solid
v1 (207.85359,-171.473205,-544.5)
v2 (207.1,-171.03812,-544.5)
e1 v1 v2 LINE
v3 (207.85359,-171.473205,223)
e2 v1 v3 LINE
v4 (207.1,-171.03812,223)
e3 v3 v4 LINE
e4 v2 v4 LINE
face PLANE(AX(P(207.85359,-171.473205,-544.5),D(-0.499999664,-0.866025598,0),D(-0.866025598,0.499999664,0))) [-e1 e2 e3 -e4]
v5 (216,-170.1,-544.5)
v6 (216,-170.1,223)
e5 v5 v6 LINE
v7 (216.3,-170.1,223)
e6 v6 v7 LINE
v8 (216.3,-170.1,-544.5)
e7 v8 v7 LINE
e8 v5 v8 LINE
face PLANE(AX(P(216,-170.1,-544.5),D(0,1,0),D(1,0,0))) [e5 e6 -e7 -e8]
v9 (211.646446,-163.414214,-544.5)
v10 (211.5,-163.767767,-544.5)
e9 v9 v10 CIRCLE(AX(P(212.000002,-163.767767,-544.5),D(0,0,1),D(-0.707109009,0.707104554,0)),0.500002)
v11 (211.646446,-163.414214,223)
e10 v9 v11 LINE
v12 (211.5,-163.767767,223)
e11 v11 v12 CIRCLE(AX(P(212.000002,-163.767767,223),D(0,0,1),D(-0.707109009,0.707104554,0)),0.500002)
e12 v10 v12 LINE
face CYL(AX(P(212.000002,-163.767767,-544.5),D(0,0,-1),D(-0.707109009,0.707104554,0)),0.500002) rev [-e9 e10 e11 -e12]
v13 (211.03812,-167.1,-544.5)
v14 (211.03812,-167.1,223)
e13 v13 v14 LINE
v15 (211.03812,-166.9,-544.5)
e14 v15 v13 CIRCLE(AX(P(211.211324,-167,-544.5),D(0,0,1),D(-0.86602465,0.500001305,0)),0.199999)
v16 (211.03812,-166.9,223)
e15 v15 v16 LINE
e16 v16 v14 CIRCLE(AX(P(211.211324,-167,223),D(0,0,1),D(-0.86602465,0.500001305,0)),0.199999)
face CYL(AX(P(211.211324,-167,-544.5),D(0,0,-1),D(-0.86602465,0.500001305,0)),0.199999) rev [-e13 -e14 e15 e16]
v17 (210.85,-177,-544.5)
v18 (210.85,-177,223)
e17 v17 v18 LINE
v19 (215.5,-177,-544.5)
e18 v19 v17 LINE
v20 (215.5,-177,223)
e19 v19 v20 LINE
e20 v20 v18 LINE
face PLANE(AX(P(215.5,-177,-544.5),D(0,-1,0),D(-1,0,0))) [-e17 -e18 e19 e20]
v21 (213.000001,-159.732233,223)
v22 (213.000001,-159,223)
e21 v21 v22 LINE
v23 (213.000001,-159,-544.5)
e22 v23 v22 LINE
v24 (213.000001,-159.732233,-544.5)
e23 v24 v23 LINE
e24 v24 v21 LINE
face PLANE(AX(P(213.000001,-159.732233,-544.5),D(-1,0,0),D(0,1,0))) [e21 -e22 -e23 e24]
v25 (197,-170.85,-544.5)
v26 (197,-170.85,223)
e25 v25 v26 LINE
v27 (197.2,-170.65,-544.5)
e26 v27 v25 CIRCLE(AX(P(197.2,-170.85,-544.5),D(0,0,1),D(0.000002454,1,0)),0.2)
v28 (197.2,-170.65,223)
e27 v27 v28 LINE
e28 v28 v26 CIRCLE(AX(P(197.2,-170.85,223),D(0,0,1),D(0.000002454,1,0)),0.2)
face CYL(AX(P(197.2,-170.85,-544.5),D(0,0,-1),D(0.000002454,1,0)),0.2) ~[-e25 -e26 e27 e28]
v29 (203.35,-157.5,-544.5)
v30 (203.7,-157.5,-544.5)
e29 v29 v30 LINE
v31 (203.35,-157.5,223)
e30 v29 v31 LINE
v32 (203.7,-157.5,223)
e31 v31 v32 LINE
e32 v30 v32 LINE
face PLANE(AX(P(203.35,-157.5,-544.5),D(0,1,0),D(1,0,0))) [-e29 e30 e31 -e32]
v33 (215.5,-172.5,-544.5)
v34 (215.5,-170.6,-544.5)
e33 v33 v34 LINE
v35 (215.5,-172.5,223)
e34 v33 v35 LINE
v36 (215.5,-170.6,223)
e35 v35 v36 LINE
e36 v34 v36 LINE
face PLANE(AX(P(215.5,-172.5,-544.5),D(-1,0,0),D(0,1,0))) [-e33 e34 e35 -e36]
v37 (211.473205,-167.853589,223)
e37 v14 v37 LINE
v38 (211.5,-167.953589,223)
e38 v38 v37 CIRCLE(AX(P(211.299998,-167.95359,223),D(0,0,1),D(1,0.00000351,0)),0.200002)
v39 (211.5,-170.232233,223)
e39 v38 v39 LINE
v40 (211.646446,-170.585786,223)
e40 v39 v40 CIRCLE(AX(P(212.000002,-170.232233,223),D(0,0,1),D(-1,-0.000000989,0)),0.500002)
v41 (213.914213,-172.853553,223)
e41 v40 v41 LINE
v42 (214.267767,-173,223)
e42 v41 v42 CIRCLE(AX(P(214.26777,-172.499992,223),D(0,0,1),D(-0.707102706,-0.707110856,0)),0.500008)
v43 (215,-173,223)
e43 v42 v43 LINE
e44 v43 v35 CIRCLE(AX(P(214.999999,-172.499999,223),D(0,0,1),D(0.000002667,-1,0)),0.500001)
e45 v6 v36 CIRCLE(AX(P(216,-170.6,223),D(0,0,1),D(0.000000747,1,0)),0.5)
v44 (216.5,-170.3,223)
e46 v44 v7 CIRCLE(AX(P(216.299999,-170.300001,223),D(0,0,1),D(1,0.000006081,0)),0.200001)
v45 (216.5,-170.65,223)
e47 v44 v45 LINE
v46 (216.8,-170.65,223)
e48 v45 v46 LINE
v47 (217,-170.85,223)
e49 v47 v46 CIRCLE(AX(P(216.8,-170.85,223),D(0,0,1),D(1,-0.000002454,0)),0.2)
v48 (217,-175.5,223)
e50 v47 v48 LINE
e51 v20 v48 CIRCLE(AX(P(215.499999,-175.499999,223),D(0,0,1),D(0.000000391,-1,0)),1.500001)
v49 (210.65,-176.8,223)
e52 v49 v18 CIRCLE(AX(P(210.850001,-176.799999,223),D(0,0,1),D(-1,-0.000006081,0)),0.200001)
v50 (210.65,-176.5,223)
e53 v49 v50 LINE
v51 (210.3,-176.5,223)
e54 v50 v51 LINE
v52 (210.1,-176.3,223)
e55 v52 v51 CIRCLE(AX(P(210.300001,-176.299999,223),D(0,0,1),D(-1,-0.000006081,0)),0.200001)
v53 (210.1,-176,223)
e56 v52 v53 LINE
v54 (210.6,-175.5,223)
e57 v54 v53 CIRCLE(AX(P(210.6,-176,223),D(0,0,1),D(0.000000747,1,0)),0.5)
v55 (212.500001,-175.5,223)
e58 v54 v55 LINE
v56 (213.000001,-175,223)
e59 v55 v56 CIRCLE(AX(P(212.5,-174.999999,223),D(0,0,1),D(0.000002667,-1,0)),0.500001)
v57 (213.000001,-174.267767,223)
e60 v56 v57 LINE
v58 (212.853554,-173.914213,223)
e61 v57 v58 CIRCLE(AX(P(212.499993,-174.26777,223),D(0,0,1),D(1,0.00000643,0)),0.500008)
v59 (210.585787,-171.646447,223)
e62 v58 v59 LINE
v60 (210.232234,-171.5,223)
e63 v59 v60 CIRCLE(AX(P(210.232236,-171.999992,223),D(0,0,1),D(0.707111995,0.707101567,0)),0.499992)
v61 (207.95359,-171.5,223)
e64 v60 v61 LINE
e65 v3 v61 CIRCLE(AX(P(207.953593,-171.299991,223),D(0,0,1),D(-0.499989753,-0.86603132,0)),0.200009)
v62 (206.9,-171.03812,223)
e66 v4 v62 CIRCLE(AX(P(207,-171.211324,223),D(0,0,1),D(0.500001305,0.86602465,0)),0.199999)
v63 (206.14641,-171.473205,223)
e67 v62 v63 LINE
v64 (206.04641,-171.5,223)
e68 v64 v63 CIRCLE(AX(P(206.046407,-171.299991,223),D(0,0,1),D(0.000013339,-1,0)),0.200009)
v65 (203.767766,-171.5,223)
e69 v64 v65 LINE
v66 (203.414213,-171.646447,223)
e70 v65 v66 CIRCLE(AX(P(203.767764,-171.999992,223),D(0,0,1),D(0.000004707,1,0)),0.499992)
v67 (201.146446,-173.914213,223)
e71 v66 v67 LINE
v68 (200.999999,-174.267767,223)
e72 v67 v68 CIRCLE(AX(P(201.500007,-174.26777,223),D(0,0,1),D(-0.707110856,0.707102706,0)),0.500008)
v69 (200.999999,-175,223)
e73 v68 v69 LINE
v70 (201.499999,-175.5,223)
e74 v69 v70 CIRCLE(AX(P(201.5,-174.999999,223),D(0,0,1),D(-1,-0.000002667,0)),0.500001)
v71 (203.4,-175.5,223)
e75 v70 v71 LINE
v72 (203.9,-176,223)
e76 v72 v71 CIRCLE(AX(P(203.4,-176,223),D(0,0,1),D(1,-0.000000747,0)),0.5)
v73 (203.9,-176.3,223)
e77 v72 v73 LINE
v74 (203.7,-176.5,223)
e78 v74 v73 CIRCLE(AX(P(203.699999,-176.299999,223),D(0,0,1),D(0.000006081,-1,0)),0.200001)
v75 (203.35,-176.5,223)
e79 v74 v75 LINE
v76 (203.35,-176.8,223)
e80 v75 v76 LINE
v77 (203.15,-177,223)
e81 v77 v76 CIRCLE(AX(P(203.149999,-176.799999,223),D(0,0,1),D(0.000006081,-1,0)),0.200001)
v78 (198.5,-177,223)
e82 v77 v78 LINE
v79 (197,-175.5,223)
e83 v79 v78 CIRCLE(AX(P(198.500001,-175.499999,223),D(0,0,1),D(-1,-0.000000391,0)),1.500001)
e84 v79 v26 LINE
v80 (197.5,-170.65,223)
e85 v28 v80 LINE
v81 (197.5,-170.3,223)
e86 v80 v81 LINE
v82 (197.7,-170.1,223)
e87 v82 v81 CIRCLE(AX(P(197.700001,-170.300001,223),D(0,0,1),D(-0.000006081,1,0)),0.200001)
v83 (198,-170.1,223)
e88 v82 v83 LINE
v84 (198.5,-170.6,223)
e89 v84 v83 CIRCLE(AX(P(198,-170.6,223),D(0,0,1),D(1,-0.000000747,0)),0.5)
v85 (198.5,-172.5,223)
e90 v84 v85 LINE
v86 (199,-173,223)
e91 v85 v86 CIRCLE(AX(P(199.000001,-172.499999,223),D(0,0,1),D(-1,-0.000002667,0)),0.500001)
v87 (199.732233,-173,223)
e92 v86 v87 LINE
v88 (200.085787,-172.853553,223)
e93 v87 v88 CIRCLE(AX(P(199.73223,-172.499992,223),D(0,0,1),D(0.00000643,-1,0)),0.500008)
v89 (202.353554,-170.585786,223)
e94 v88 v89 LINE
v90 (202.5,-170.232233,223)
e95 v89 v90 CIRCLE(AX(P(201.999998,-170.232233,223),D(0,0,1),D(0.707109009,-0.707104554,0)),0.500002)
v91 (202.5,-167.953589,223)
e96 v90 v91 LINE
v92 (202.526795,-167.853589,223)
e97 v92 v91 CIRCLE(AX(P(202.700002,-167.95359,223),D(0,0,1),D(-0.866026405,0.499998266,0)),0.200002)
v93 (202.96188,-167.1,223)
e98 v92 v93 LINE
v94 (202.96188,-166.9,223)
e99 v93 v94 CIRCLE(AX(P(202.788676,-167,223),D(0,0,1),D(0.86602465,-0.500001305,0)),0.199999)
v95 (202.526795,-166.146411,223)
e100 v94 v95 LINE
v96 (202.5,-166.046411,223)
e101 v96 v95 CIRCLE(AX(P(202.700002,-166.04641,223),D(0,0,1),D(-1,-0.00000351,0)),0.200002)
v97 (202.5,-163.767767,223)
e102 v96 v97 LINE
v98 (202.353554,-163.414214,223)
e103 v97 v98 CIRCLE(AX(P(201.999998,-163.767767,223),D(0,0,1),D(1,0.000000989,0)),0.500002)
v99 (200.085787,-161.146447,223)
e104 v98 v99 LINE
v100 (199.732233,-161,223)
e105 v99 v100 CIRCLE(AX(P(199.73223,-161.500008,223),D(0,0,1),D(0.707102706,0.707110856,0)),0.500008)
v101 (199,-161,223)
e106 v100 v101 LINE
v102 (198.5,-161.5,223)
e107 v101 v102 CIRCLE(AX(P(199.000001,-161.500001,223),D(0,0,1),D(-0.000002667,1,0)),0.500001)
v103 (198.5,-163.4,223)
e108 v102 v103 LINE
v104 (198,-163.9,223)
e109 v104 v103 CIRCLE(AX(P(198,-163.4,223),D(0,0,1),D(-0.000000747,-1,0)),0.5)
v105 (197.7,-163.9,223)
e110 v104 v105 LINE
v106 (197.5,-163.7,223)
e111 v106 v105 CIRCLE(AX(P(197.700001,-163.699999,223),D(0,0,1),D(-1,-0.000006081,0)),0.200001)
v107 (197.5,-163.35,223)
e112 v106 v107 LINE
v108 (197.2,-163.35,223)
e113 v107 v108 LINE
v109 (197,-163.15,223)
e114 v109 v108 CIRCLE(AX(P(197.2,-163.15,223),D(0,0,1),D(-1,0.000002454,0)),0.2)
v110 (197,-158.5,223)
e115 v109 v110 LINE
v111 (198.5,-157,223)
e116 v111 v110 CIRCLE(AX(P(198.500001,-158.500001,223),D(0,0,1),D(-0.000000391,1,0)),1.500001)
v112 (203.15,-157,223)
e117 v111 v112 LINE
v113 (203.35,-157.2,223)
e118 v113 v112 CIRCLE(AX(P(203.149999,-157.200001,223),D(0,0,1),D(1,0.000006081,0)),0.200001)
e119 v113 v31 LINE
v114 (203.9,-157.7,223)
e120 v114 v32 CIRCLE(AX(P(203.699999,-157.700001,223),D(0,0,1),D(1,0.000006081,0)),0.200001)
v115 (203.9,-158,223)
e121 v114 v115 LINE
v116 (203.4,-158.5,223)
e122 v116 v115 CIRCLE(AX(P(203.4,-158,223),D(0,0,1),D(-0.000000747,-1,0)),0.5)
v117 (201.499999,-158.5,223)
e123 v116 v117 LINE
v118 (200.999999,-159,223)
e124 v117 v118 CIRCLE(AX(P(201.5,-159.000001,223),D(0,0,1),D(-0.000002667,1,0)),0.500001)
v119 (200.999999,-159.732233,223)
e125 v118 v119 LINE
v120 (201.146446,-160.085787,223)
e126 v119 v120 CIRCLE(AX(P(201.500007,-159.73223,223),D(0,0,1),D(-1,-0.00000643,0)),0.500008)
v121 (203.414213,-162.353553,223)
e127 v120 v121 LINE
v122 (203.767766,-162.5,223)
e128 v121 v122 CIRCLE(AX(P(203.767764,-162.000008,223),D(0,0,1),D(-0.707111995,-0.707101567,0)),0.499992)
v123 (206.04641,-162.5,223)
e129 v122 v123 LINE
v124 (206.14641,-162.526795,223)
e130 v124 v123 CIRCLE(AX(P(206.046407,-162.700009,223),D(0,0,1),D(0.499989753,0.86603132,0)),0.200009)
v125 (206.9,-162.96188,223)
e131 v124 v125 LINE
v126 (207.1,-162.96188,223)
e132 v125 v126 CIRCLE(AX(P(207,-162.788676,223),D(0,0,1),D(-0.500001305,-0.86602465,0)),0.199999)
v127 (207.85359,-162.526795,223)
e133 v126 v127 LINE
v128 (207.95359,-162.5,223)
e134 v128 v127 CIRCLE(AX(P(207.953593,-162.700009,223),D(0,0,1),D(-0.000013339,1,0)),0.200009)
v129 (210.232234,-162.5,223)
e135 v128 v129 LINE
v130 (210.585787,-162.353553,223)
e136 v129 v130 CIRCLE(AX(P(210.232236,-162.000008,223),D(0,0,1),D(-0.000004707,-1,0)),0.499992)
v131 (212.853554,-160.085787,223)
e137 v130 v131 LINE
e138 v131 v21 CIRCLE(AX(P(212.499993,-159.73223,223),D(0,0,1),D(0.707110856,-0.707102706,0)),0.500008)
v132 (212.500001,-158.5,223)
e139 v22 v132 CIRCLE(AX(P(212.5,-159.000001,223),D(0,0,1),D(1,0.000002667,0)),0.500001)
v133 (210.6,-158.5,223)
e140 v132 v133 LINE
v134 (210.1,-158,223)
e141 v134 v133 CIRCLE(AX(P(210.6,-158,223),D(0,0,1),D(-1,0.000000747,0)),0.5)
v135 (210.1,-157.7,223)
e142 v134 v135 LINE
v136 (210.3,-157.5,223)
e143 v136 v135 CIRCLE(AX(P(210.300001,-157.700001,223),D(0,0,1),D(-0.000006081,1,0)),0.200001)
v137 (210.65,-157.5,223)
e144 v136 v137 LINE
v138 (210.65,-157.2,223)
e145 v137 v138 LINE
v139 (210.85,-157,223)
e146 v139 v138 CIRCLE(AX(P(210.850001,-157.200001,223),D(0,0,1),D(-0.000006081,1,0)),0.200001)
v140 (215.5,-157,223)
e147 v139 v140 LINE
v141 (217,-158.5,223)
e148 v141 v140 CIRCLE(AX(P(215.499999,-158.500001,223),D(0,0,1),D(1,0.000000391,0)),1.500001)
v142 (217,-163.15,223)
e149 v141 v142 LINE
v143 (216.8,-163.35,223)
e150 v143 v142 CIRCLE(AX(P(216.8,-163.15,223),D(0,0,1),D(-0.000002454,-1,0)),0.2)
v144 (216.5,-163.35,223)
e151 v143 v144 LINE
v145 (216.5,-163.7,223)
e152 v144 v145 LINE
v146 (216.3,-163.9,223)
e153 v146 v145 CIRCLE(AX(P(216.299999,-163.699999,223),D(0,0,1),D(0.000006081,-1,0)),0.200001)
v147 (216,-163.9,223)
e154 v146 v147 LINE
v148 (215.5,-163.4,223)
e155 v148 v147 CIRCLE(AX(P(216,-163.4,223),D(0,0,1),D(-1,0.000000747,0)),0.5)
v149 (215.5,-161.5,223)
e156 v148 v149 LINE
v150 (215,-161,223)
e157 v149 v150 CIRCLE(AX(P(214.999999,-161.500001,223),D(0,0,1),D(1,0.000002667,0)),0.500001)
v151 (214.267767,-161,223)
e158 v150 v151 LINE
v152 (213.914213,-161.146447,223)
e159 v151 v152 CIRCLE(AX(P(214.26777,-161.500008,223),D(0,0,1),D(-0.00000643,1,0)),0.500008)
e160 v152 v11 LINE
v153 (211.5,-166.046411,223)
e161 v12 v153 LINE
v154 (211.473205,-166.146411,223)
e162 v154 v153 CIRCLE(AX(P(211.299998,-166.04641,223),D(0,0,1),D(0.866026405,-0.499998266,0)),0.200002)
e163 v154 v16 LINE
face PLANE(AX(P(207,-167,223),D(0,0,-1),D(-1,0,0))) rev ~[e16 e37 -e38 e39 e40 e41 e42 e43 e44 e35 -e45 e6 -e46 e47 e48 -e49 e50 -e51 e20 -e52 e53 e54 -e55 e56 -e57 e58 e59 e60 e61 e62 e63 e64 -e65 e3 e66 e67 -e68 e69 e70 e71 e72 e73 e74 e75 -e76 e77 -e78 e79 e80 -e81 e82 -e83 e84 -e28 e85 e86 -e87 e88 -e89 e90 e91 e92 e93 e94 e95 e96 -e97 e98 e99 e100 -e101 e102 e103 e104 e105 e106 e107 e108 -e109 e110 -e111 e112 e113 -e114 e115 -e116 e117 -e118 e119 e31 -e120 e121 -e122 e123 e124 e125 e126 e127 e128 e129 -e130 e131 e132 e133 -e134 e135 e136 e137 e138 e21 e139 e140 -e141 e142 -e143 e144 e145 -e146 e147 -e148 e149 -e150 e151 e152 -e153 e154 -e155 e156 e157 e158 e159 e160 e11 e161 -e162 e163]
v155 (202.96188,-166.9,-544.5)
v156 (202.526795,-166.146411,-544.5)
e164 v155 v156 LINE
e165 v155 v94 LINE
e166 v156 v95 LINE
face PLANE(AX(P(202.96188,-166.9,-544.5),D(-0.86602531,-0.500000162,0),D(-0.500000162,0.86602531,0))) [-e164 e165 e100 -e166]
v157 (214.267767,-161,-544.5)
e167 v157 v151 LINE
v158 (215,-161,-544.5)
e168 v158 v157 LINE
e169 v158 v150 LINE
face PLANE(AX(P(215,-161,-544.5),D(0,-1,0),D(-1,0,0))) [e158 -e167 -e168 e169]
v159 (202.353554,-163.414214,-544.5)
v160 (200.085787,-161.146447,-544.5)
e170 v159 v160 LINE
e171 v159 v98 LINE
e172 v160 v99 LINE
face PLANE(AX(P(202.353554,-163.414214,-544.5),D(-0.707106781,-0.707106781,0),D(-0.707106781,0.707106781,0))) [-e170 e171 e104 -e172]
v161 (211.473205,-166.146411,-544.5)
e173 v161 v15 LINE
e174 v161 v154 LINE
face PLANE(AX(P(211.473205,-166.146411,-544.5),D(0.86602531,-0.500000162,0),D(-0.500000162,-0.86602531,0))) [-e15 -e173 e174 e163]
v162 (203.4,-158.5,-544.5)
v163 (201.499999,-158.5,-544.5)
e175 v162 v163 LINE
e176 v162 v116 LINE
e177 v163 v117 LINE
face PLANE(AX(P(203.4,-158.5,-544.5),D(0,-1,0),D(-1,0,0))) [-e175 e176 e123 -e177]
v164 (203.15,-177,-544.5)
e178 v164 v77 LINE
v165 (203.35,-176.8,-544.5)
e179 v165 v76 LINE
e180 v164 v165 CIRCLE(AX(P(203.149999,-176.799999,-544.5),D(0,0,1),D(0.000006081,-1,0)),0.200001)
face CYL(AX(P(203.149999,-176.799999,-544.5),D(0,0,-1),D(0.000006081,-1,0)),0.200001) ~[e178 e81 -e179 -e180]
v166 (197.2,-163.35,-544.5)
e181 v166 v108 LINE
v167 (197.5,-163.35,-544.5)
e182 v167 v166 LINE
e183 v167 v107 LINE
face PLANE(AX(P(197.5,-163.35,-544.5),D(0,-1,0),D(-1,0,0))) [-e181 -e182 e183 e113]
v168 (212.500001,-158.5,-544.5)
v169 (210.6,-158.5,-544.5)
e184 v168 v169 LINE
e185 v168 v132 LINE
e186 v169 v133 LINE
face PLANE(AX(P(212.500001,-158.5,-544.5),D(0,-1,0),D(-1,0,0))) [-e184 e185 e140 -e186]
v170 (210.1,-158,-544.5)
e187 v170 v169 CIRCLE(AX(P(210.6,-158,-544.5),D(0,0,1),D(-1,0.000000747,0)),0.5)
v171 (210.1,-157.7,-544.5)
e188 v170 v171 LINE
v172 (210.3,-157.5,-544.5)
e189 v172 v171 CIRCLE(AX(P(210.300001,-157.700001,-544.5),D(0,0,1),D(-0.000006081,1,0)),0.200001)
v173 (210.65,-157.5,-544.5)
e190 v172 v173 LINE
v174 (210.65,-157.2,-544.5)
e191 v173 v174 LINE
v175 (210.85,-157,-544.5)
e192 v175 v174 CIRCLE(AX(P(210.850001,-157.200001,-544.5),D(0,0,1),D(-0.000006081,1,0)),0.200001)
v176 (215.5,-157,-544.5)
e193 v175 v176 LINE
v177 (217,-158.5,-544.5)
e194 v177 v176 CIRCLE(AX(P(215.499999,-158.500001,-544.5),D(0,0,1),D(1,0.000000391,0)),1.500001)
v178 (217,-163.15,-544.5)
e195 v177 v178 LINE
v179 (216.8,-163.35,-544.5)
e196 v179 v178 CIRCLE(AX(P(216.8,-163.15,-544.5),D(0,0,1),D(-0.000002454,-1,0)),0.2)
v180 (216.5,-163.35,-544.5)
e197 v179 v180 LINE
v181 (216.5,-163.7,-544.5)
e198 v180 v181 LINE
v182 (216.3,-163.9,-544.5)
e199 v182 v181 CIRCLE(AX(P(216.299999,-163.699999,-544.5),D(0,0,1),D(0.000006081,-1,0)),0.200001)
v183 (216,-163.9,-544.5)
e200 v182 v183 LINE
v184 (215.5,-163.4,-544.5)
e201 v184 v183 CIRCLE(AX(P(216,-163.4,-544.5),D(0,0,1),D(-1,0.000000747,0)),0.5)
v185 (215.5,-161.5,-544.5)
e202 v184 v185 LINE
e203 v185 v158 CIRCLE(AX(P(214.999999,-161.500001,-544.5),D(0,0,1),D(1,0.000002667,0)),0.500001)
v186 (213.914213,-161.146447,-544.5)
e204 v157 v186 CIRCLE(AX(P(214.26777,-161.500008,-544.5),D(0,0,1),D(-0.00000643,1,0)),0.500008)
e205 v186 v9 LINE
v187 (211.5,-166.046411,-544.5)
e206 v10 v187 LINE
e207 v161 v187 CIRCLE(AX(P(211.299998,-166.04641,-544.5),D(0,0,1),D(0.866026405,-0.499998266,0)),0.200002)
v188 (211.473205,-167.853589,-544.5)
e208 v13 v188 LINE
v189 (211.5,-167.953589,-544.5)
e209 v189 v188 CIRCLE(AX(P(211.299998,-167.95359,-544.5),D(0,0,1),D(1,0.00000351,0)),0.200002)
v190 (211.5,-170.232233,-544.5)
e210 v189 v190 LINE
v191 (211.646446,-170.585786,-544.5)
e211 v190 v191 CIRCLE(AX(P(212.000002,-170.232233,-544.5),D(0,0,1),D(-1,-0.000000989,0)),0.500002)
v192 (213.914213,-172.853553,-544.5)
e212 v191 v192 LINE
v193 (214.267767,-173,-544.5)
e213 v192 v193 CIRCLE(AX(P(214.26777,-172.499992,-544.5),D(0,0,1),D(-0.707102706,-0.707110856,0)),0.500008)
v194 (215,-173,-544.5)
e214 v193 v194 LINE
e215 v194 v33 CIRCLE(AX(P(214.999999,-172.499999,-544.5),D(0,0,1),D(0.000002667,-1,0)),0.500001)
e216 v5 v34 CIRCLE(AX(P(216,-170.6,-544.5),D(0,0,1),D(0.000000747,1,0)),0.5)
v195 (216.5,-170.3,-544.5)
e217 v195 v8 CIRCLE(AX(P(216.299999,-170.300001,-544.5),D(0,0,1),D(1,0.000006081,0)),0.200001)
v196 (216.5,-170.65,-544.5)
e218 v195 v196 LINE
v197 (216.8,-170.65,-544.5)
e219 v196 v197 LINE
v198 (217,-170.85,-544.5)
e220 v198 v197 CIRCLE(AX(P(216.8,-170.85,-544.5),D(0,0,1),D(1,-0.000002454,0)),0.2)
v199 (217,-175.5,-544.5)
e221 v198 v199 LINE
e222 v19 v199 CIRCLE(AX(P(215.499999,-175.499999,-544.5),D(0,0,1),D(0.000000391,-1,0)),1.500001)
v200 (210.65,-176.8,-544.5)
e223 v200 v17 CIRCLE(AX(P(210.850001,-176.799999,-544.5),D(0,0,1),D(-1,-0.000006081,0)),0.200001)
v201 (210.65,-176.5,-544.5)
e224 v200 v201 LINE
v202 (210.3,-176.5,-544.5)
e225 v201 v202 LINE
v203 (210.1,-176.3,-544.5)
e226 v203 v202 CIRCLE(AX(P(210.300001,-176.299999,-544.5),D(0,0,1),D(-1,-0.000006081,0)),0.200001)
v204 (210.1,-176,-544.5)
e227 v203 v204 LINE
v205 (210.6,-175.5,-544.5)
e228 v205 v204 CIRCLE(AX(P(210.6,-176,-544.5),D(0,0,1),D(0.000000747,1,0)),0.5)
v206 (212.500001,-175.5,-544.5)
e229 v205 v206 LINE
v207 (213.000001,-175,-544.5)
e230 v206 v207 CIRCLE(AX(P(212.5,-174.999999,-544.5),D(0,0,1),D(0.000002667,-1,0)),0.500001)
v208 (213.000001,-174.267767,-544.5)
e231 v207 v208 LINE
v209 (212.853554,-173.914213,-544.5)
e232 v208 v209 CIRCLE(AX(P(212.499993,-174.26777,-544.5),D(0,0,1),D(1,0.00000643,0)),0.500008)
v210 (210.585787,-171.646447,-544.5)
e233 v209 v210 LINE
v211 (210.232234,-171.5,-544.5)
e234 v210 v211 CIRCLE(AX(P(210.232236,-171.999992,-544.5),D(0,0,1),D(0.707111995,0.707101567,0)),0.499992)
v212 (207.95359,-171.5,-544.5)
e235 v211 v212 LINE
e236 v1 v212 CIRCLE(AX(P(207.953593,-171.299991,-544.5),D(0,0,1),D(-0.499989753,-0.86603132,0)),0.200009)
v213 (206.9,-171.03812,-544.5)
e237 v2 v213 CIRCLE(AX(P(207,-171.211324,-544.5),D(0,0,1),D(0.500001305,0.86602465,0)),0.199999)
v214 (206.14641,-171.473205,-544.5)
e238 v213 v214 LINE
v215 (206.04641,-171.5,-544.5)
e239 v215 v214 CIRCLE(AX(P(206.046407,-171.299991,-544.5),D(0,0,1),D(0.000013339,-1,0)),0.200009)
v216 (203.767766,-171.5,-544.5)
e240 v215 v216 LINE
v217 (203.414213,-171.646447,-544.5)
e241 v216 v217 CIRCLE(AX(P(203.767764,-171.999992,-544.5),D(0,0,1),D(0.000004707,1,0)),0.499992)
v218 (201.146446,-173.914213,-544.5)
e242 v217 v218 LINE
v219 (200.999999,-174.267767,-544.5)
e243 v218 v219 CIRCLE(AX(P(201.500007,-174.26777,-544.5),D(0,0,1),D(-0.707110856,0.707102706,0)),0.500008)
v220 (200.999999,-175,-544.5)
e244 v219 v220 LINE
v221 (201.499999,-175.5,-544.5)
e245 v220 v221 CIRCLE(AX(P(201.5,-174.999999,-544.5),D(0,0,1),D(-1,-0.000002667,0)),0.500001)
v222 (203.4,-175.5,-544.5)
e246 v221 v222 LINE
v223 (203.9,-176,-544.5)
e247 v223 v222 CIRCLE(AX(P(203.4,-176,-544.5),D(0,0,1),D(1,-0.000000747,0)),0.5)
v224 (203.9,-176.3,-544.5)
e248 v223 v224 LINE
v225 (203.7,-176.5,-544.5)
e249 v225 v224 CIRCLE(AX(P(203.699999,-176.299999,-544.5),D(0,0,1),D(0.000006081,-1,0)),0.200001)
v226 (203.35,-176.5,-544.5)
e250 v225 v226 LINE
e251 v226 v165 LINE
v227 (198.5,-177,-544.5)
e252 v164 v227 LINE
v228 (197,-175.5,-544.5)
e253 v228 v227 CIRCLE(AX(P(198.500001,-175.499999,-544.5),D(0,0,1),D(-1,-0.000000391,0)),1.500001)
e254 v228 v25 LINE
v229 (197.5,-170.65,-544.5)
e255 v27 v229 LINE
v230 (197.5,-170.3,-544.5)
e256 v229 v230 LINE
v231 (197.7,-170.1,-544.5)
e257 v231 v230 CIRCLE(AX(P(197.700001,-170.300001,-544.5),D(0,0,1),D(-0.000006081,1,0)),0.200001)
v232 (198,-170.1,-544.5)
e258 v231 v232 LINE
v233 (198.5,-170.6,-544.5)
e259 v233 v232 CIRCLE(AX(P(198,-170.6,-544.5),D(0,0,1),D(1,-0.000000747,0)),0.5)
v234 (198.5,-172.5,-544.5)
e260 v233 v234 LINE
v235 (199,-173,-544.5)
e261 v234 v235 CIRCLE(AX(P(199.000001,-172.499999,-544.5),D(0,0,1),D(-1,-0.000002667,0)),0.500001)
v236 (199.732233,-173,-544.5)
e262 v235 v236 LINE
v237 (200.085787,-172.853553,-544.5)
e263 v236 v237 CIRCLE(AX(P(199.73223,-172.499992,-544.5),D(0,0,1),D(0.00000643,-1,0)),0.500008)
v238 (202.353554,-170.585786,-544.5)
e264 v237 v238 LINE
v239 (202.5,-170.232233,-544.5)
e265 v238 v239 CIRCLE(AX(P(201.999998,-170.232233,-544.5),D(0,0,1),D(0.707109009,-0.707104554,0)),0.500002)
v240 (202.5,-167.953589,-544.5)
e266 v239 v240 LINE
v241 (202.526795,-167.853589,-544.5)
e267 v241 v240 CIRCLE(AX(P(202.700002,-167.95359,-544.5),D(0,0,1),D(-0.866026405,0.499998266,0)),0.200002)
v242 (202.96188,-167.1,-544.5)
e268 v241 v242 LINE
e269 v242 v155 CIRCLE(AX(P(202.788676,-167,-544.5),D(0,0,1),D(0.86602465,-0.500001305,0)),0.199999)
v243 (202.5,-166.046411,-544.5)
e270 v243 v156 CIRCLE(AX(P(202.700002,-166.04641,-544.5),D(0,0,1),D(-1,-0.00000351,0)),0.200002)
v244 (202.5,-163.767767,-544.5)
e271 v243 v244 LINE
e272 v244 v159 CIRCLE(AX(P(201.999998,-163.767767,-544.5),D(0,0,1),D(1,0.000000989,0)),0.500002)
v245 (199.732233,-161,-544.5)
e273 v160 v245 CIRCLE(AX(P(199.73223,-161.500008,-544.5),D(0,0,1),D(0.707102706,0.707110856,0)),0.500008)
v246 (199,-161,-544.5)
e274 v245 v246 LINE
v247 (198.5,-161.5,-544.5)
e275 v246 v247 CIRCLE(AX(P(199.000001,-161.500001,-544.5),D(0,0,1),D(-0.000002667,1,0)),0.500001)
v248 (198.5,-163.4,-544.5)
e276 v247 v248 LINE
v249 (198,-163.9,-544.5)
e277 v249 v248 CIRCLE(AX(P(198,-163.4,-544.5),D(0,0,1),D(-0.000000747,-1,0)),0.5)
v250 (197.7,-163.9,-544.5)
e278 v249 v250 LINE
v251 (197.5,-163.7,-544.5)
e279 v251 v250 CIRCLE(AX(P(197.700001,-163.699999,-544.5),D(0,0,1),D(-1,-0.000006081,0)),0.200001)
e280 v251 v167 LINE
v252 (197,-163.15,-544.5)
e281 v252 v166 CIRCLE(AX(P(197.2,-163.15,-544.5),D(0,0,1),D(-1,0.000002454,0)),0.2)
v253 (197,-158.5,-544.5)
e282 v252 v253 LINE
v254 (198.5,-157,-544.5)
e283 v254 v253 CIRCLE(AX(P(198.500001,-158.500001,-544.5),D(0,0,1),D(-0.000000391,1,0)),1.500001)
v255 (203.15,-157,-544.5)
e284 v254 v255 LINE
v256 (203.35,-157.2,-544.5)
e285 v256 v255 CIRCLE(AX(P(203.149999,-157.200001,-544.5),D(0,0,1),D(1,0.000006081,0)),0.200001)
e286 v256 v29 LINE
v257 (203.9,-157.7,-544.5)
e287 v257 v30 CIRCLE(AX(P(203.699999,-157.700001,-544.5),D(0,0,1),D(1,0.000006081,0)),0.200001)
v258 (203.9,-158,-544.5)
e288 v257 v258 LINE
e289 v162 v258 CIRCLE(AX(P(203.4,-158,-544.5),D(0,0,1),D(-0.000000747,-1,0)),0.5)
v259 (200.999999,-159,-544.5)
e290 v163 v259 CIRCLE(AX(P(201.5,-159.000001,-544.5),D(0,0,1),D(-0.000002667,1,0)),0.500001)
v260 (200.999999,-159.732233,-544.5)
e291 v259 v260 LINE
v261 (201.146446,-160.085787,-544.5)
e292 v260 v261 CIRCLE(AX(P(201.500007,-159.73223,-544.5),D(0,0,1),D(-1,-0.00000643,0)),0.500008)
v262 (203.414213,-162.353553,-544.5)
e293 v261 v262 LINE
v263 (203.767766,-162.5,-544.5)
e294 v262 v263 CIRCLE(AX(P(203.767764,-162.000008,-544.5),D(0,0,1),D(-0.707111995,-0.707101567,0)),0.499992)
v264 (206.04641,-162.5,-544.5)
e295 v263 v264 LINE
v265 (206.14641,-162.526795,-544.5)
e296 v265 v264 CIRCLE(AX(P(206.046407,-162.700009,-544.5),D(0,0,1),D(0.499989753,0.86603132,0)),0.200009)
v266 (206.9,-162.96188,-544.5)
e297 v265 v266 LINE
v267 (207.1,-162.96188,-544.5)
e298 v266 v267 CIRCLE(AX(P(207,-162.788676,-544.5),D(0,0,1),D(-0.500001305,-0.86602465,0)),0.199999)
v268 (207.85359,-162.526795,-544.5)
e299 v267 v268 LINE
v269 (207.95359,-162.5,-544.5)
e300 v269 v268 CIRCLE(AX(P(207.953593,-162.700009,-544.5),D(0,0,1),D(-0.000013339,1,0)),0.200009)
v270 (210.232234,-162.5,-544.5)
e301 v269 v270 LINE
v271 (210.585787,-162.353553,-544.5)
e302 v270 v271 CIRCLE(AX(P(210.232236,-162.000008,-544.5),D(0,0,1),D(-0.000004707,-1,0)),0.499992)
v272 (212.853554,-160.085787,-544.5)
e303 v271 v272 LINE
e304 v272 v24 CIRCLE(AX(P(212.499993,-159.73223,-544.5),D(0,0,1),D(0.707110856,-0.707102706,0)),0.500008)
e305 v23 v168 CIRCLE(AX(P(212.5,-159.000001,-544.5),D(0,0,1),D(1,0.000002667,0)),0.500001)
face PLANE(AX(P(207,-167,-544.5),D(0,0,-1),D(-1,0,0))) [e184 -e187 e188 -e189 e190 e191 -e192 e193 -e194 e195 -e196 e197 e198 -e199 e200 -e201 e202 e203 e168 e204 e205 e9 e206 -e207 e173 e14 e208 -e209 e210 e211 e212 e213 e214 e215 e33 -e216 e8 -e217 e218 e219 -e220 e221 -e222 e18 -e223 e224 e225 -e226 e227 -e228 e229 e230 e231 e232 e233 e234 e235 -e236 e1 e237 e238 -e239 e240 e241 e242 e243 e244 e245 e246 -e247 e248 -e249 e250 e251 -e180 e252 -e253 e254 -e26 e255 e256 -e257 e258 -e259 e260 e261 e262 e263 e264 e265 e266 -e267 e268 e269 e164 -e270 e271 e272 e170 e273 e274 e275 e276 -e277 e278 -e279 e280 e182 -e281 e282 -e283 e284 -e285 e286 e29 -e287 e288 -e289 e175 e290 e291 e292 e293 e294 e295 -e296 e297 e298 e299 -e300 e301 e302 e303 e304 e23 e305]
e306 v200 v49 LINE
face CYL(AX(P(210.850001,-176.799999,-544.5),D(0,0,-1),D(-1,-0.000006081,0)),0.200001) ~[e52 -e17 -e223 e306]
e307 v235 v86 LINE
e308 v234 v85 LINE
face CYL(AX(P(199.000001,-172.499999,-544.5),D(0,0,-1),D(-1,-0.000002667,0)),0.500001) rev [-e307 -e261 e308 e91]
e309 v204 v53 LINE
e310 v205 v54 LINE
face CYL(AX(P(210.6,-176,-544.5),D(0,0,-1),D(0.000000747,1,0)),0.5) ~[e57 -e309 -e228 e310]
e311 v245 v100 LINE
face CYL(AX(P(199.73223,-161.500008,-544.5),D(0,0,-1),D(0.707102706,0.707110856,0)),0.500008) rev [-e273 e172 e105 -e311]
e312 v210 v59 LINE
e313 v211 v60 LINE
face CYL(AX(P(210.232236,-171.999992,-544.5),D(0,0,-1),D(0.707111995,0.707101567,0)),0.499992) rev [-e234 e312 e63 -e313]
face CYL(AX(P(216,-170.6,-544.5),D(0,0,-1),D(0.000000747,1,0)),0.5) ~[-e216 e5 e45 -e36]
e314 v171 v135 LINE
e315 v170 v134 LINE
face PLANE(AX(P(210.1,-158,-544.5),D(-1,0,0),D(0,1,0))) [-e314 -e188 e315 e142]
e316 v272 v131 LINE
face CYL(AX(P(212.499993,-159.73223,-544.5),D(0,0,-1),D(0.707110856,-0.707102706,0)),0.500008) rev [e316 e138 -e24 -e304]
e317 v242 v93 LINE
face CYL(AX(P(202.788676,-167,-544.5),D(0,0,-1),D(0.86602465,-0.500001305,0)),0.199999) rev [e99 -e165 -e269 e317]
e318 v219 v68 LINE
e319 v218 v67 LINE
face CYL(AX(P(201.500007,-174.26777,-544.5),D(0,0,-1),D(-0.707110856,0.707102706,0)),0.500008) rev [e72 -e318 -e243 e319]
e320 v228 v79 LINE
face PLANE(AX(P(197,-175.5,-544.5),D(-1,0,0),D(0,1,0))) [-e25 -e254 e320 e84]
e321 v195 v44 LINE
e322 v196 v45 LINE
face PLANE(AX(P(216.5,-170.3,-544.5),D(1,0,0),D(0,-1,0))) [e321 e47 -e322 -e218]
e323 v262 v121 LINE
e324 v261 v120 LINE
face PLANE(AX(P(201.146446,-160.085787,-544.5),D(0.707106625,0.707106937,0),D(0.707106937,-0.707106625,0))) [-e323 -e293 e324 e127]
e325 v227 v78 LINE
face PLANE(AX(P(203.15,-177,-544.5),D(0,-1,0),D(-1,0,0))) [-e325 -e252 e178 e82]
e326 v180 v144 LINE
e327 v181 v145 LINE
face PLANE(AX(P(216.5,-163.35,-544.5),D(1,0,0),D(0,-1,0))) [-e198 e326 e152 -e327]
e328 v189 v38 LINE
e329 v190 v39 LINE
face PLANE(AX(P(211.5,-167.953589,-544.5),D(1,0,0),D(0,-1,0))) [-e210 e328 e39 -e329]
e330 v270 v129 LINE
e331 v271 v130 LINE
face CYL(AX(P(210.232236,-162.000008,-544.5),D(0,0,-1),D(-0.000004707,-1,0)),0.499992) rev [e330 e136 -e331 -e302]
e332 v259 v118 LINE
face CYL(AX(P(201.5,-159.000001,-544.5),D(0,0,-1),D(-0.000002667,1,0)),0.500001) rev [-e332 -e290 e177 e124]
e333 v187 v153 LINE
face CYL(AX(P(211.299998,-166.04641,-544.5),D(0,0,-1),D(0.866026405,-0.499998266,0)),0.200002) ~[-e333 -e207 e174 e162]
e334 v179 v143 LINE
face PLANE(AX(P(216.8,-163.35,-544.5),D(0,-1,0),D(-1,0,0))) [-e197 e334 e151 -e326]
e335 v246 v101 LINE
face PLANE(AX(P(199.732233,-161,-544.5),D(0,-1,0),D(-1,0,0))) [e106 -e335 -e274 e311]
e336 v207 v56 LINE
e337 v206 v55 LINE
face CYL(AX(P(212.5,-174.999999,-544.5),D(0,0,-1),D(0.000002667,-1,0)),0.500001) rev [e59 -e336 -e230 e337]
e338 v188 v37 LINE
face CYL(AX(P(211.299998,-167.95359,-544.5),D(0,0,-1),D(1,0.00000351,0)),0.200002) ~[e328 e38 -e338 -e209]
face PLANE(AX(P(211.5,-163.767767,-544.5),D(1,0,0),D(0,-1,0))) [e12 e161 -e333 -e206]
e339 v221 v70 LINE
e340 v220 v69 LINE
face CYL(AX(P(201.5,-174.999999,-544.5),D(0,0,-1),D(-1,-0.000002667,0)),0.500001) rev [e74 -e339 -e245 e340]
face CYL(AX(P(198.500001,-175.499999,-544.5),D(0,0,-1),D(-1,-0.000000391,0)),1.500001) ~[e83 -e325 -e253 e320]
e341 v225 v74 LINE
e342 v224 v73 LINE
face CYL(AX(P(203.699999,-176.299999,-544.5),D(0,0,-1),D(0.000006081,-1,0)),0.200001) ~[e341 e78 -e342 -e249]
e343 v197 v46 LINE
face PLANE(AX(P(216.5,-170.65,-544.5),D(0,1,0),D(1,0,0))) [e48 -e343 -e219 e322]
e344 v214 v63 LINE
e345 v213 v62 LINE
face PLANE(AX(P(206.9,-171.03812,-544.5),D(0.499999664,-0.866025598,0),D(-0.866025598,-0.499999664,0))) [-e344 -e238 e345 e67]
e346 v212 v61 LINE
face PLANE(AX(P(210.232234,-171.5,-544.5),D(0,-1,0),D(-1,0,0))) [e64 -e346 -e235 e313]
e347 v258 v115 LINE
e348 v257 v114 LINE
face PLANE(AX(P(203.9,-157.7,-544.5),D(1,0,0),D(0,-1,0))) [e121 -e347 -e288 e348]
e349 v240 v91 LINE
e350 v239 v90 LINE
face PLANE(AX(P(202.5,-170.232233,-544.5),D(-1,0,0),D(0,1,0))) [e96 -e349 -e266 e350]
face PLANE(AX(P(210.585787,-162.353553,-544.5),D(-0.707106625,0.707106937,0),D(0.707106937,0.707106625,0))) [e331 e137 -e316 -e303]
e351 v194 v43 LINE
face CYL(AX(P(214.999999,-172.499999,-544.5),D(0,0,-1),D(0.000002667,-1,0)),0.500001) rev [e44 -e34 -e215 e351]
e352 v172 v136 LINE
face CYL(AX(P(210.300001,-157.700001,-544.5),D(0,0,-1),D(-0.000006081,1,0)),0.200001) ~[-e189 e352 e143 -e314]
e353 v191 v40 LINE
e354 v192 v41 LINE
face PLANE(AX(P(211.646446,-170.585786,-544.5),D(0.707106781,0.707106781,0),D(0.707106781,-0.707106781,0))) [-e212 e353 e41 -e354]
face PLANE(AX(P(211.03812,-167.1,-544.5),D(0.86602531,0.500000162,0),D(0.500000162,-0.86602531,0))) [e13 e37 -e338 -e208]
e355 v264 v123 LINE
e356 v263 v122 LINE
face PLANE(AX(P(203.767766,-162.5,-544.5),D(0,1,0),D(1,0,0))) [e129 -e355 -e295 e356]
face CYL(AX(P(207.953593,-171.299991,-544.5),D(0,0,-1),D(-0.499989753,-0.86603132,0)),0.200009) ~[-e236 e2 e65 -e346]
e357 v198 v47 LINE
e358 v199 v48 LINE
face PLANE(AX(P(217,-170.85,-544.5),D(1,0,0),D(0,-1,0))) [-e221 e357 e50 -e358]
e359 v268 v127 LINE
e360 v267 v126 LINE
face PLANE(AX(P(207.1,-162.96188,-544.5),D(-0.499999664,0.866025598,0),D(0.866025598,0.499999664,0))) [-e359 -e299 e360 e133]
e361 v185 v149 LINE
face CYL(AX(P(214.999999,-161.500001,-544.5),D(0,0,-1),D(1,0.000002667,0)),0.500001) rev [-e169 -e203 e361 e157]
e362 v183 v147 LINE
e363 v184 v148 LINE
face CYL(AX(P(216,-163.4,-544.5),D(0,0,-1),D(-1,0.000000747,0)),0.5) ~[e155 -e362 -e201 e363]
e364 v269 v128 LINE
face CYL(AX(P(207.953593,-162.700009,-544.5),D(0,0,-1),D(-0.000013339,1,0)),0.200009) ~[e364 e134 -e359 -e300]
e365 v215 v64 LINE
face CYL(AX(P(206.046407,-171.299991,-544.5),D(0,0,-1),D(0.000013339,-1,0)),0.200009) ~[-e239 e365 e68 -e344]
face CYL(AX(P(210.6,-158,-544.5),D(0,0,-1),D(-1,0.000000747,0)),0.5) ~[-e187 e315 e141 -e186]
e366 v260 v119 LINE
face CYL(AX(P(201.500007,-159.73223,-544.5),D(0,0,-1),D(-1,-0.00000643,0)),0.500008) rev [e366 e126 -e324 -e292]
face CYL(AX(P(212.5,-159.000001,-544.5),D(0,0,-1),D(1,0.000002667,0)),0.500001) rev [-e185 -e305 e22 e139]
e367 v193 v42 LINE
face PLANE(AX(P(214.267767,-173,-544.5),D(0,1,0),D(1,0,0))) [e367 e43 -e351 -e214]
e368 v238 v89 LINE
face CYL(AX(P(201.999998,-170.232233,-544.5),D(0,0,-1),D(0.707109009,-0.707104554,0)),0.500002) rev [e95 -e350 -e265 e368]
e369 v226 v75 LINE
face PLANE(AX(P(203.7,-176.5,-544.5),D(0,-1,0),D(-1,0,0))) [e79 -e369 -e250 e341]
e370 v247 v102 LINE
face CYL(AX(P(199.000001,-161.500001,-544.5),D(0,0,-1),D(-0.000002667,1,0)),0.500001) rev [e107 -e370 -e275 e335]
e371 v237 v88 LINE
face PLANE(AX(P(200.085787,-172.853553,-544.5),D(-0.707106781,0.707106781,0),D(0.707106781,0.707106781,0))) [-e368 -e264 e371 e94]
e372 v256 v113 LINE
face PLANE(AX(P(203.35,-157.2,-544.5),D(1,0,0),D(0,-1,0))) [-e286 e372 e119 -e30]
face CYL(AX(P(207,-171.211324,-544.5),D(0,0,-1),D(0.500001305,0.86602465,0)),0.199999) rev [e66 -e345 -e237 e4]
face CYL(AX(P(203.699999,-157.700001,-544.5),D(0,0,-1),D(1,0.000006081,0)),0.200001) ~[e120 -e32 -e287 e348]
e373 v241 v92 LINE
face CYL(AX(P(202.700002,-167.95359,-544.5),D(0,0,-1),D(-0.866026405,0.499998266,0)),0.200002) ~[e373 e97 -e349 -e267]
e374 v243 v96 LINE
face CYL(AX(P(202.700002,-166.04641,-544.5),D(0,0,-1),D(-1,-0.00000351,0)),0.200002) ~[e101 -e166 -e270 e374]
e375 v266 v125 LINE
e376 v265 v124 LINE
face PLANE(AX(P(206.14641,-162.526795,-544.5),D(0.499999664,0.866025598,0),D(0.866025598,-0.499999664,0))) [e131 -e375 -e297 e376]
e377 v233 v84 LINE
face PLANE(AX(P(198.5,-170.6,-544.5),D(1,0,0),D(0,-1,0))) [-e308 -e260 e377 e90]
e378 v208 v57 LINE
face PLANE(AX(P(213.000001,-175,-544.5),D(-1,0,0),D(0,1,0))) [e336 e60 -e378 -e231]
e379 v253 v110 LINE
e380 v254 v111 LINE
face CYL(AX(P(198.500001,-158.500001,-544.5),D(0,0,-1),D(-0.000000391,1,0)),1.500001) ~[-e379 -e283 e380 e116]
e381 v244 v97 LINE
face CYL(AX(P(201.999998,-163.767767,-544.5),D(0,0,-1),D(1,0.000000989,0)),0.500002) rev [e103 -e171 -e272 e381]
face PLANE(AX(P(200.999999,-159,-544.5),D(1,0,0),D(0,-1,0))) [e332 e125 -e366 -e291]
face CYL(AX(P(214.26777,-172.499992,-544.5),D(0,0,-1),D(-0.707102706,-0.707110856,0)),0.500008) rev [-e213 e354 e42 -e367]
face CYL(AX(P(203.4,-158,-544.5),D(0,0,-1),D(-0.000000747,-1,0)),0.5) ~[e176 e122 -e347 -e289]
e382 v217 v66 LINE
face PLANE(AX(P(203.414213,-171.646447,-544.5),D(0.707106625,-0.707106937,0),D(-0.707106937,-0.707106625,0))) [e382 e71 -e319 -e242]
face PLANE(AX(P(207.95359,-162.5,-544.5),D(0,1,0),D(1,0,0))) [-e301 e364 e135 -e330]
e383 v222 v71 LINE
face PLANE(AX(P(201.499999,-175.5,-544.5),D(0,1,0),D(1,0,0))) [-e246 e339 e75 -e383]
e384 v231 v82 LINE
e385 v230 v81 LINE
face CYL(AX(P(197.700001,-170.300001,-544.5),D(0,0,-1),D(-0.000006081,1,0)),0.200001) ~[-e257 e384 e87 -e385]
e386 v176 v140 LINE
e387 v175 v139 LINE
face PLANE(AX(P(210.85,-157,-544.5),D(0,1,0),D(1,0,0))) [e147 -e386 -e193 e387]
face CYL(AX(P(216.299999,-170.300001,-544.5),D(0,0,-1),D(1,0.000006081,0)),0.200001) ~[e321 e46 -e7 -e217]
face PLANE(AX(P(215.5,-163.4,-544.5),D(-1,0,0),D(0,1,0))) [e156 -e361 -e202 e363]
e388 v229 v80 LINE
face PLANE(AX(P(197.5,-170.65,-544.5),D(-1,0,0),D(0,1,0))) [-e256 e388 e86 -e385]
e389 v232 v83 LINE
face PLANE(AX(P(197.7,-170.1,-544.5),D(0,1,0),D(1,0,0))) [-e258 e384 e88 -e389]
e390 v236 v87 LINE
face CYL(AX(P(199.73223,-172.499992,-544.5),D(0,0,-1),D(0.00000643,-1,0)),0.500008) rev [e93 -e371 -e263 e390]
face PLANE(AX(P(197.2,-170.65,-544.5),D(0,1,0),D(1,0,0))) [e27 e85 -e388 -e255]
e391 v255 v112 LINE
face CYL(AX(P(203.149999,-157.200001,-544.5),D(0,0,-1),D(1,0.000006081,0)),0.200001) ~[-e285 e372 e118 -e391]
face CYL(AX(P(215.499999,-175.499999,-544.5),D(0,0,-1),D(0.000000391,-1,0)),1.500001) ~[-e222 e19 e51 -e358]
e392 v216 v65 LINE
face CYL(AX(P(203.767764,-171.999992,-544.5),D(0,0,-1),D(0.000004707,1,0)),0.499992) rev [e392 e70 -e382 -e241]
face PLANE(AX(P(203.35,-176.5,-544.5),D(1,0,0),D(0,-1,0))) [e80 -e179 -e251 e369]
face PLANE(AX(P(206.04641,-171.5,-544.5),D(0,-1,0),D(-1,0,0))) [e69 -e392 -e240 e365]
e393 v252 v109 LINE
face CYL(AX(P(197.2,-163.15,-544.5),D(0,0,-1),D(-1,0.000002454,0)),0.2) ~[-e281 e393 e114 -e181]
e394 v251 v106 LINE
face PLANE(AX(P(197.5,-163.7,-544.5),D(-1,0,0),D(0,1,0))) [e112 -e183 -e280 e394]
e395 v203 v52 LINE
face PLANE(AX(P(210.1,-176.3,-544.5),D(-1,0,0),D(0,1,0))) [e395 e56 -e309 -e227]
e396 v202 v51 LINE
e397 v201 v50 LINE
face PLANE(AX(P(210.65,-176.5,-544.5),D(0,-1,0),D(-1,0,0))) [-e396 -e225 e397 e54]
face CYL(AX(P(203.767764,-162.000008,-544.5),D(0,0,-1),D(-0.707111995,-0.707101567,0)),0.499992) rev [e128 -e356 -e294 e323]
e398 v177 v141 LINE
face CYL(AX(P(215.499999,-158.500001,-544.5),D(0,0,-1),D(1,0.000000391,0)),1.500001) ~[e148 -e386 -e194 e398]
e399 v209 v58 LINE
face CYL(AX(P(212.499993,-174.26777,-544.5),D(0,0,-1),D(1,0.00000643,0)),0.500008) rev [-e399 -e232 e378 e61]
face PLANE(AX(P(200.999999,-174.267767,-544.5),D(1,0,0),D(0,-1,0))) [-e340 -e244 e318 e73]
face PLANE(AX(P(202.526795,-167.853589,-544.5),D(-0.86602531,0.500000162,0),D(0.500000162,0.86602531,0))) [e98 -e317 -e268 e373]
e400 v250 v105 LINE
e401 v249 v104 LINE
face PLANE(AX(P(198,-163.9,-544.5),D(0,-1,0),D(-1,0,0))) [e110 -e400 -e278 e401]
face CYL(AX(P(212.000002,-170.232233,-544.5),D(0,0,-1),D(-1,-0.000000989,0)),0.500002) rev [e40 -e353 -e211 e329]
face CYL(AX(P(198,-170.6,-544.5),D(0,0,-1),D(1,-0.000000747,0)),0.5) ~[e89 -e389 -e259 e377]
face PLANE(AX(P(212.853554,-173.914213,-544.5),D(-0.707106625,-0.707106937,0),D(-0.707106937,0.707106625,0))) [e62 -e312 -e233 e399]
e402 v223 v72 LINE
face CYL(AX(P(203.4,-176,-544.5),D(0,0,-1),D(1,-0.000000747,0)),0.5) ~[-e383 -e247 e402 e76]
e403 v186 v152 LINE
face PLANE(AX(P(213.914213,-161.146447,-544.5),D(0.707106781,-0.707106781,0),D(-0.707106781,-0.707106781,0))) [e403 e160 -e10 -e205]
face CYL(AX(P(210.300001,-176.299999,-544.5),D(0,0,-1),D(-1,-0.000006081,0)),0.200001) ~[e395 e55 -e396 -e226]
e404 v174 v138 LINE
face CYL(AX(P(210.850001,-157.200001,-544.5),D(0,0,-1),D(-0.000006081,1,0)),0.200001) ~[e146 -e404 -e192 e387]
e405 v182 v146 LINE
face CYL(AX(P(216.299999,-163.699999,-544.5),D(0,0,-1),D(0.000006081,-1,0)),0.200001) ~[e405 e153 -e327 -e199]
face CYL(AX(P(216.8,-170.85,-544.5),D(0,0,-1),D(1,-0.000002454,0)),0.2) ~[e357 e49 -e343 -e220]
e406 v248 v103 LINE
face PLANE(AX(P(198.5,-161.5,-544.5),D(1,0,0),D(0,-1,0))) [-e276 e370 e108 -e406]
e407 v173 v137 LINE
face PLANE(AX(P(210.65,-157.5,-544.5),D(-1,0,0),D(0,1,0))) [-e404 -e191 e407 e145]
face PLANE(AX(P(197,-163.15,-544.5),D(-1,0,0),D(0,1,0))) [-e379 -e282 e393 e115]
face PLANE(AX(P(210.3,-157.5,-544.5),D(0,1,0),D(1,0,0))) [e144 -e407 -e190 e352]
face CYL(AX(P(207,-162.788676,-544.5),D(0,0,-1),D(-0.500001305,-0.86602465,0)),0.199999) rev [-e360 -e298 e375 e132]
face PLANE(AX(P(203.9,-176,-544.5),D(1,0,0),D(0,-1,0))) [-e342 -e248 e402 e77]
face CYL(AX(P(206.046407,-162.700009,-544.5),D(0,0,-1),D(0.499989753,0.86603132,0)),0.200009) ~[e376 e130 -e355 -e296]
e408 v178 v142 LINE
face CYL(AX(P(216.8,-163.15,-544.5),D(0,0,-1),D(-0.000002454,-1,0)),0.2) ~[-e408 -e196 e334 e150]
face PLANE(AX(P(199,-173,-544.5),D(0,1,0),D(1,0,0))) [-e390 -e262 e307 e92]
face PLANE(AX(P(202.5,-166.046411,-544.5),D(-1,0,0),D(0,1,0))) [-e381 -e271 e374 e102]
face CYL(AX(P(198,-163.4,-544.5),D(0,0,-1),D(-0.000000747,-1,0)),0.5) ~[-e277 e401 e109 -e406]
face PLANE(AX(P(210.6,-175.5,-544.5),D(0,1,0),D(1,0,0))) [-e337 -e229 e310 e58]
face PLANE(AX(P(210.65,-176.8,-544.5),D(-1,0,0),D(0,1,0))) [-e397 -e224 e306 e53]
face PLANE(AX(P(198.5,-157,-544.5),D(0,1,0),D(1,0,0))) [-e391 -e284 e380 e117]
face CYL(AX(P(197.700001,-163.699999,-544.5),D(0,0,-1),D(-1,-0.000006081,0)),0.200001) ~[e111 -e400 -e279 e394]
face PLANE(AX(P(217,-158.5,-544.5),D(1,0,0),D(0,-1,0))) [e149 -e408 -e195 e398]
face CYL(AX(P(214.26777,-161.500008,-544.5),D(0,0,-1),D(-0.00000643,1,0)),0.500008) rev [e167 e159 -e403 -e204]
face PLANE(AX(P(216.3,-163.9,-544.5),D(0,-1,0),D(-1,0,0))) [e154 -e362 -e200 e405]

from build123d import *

# Parameters (mm, degrees)
PAD012_DEPTH    = 767.5
POCKET029_DEPTH = 767.501


with BuildPart() as pad012:
    # Sketch042 → Pad012 (new body)
    with BuildSketch(Plane(origin=(1.5, 0, 0), x_dir=(1, 0, 0), z_dir=(0, 0, 1))):
        with BuildLine():
            Line((0, 20), (4.65, 20))
            ThreePointArc((4.85, 19.8), (4.791421, 19.941421), (4.65, 20))
            Line((4.85, 19.8), (4.85, 19.5))
            Line((4.85, 19.5), (5.2, 19.5))
            ThreePointArc((5.4, 19.3), (5.341421, 19.441421), (5.2, 19.5))
            Line((5.4, 19.3), (5.4, 19))
            ThreePointArc((4.9, 18.5), (5.253553, 18.646446), (5.4, 19))
            Line((4.9, 18.5), (2.999999, 18.5))
            ThreePointArc((2.999999, 18.5), (2.646446, 18.353553), (2.499999, 18))
            Line((2.499999, 18), (2.499999, 17.267767))
            ThreePointArc((2.499999, 17.267767), (2.53806, 17.076425), (2.646446, 16.914213))
            Line((2.646446, 16.914213), (4.914213, 14.646447))
            ThreePointArc((4.914213, 14.646447), (5.076424, 14.53806), (5.267766, 14.5))
            Line((5.267766, 14.5), (7.54641, 14.5))
            ThreePointArc((7.64641, 14.473205), (7.598173, 14.493185), (7.54641, 14.5))
            Line((7.64641, 14.473205), (8.4, 14.03812))
            ThreePointArc((8.4, 14.03812), (8.5, 14.011325), (8.6, 14.03812))
            Line((8.6, 14.03812), (9.35359, 14.473205))
            ThreePointArc((9.45359, 14.5), (9.401827, 14.493185), (9.35359, 14.473205))
            Line((9.45359, 14.5), (11.732234, 14.5))
            ThreePointArc((11.732234, 14.5), (11.923576, 14.53806), (12.085787, 14.646447))
            Line((12.085787, 14.646447), (14.353554, 16.914213))
            ThreePointArc((14.353554, 16.914213), (14.46194, 17.076425), (14.500001, 17.267767))
            Line((14.500001, 17.267767), (14.500001, 18))
            ThreePointArc((14.500001, 18), (14.353554, 18.353553), (14.000001, 18.5))
            Line((14.000001, 18.5), (12.1, 18.5))
            ThreePointArc((11.6, 19), (11.746447, 18.646446), (12.1, 18.5))
            Line((11.6, 19), (11.6, 19.3))
            ThreePointArc((11.8, 19.5), (11.658579, 19.441421), (11.6, 19.3))
            Line((11.8, 19.5), (12.15, 19.5))
            Line((12.15, 19.5), (12.15, 19.8))
            ThreePointArc((12.35, 20), (12.208579, 19.941421), (12.15, 19.8))
            Line((12.35, 20), (17, 20))
            ThreePointArc((18.5, 18.5), (18.06066, 19.56066), (17, 20))
            Line((18.5, 18.5), (18.5, 13.85))
            ThreePointArc((18.3, 13.65), (18.441421, 13.708578), (18.5, 13.85))
            Line((18.3, 13.65), (18, 13.65))
            Line((18, 13.65), (18, 13.3))
            ThreePointArc((17.8, 13.1), (17.941421, 13.158579), (18, 13.3))
            Line((17.8, 13.1), (17.5, 13.1))
            ThreePointArc((17, 13.6), (17.146446, 13.246447), (17.5, 13.1))
            Line((17, 13.6), (17, 15.5))
            ThreePointArc((17, 15.5), (16.853553, 15.853553), (16.5, 16))
            Line((16.5, 16), (15.767767, 16))
            ThreePointArc((15.767767, 16), (15.576425, 15.961939), (15.414213, 15.853553))
            Line((15.414213, 15.853553), (13.146446, 13.585786))
            ThreePointArc((13.146446, 13.585786), (13.03806, 13.423574), (13, 13.232233))
            Line((13, 13.232233), (13, 10.953589))
            ThreePointArc((12.973205, 10.853589), (12.993185, 10.901825), (13, 10.953589))
            Line((12.973205, 10.853589), (12.53812, 10.1))
            ThreePointArc((12.53812, 10.1), (12.511325, 10), (12.53812, 9.9))
            Line((12.53812, 9.9), (12.973205, 9.146411))
            ThreePointArc((13, 9.046411), (12.993185, 9.098175), (12.973205, 9.146411))
            Line((13, 9.046411), (13, 6.767767))
            ThreePointArc((13, 6.767767), (13.03806, 6.576426), (13.146446, 6.414214))
            Line((13.146446, 6.414214), (15.414213, 4.146447))
            ThreePointArc((15.414213, 4.146447), (15.576425, 4.038061), (15.767767, 4))
            Line((15.767767, 4), (16.5, 4))
            ThreePointArc((16.5, 4), (16.853553, 4.146447), (17, 4.5))
            Line((17, 4.5), (17, 6.4))
            ThreePointArc((17.5, 6.9), (17.146446, 6.753553), (17, 6.4))
            Line((17.5, 6.9), (17.8, 6.9))
            ThreePointArc((18, 6.7), (17.941421, 6.841421), (17.8, 6.9))
            Line((18, 6.7), (18, 6.35))
            Line((18, 6.35), (18.3, 6.35))
            ThreePointArc((18.5, 6.15), (18.441421, 6.291422), (18.3, 6.35))
            Line((18.5, 6.15), (18.5, 1.5))
            ThreePointArc((17, 0), (18.06066, 0.43934), (18.5, 1.5))
            Line((17, 0), (12.35, 0))
            ThreePointArc((12.15, 0.2), (12.208579, 0.058579), (12.35, 0))
            Line((12.15, 0.2), (12.15, 0.5))
            Line((12.15, 0.5), (11.8, 0.5))
            ThreePointArc((11.6, 0.7), (11.658579, 0.558579), (11.8, 0.5))
            Line((11.6, 0.7), (11.6, 1))
            ThreePointArc((12.1, 1.5), (11.746447, 1.353554), (11.6, 1))
            Line((12.1, 1.5), (14.000001, 1.5))
            ThreePointArc((14.000001, 1.5), (14.353554, 1.646447), (14.500001, 2))
            Line((14.500001, 2), (14.500001, 2.732233))
            ThreePointArc((14.500001, 2.732233), (14.46194, 2.923575), (14.353554, 3.085787))
            Line((14.353554, 3.085787), (12.085787, 5.353553))
            ThreePointArc((12.085787, 5.353553), (11.923576, 5.46194), (11.732234, 5.5))
            Line((11.732234, 5.5), (9.45359, 5.5))
            ThreePointArc((9.35359, 5.526795), (9.401827, 5.506815), (9.45359, 5.5))
            Line((9.35359, 5.526795), (8.6, 5.96188))
            ThreePointArc((8.6, 5.96188), (8.5, 5.988675), (8.4, 5.96188))
            Line((8.4, 5.96188), (7.64641, 5.526795))
            ThreePointArc((7.54641, 5.5), (7.598173, 5.506815), (7.64641, 5.526795))
            Line((7.54641, 5.5), (5.267766, 5.5))
            ThreePointArc((5.267766, 5.5), (5.076424, 5.46194), (4.914213, 5.353553))
            Line((4.914213, 5.353553), (2.646446, 3.085787))
            ThreePointArc((2.646446, 3.085787), (2.53806, 2.923575), (2.499999, 2.732233))
            Line((2.499999, 2.732233), (2.499999, 2))
            ThreePointArc((2.499999, 2), (2.646446, 1.646447), (2.999999, 1.5))
            Line((2.999999, 1.5), (4.9, 1.5))
            ThreePointArc((5.4, 1), (5.253553, 1.353554), (4.9, 1.5))
            Line((5.4, 1), (5.4, 0.7))
            ThreePointArc((5.2, 0.5), (5.341421, 0.558579), (5.4, 0.7))
            Line((5.2, 0.5), (4.85, 0.5))
            Line((4.85, 0.5), (4.85, 0.2))
            ThreePointArc((4.65, 0), (4.791421, 0.058579), (4.85, 0.2))
            Line((4.65, 0), (0, 0))
            ThreePointArc((-1.5, 1.5), (-1.06066, 0.43934), (0, 0))
            Line((-1.5, 1.5), (-1.5, 6.15))
            ThreePointArc((-1.3, 6.35), (-1.441421, 6.291422), (-1.5, 6.15))
            Line((-1.3, 6.35), (-1, 6.35))
            Line((-1, 6.35), (-1, 6.7))
            ThreePointArc((-0.8, 6.9), (-0.941421, 6.841421), (-1, 6.7))
            Line((-0.8, 6.9), (-0.5, 6.9))
            ThreePointArc((0, 6.4), (-0.146446, 6.753553), (-0.5, 6.9))
            Line((0, 6.4), (0, 4.5))
            ThreePointArc((0, 4.5), (0.146447, 4.146447), (0.5, 4))
            Line((0.5, 4), (1.232233, 4))
            ThreePointArc((1.232233, 4), (1.423575, 4.038061), (1.585787, 4.146447))
            Line((1.585787, 4.146447), (3.853554, 6.414214))
            ThreePointArc((3.853554, 6.414214), (3.96194, 6.576426), (4, 6.767767))
            Line((4, 6.767767), (4, 9.046411))
            ThreePointArc((4.026795, 9.146411), (4.006815, 9.098175), (4, 9.046411))
            Line((4.026795, 9.146411), (4.46188, 9.9))
            ThreePointArc((4.46188, 9.9), (4.488675, 10), (4.46188, 10.1))
            Line((4.46188, 10.1), (4.026795, 10.853589))
            ThreePointArc((4, 10.953589), (4.006815, 10.901825), (4.026795, 10.853589))
            Line((4, 10.953589), (4, 13.232233))
            ThreePointArc((4, 13.232233), (3.96194, 13.423574), (3.853554, 13.585786))
            Line((3.853554, 13.585786), (1.585787, 15.853553))
            ThreePointArc((1.585787, 15.853553), (1.423575, 15.961939), (1.232233, 16))
            Line((1.232233, 16), (0.5, 16))
            ThreePointArc((0.5, 16), (0.146447, 15.853553), (0, 15.5))
            Line((0, 15.5), (0, 13.6))
            ThreePointArc((-0.5, 13.1), (-0.146446, 13.246447), (0, 13.6))
            Line((-0.5, 13.1), (-0.8, 13.1))
            ThreePointArc((-1, 13.3), (-0.941421, 13.158579), (-0.8, 13.1))
            Line((-1, 13.3), (-1, 13.65))
            Line((-1, 13.65), (-1.3, 13.65))
            ThreePointArc((-1.5, 13.85), (-1.441421, 13.708578), (-1.3, 13.65))
            Line((-1.5, 13.85), (-1.5, 18.5))
            ThreePointArc((0, 20), (-1.06066, 19.56066), (-1.5, 18.5))
        make_face()
    extrude(amount=PAD012_DEPTH)


with BuildPart() as pocket029:
    # Pocket029 base: copy of Pad012
    add(pad012.part)

    # Sketch043 → Pocket029 (cut, through all)
    with BuildSketch(Plane(origin=(1.5, 0, 767.5), x_dir=(1, 0, 0), z_dir=(0, 0, 1))):
        with BuildLine():
            ThreePointArc((6.586105, 12.989641), (5.988263, 12.50841), (5.507825, 11.909931))
            Line((6.054705, 11.258185), (5.507825, 11.909931))
            ThreePointArc((6.054705, 11.258185), (5.75, 10), (6.054705, 8.741815))
            Line((5.507825, 8.090069), (6.054705, 8.741815))
            ThreePointArc((5.507825, 8.090069), (5.988263, 7.49159), (6.586105, 7.010359))
            Line((7.241815, 7.554705), (6.586105, 7.010359))
            ThreePointArc((7.241815, 7.554705), (8.5, 7.25), (9.758185, 7.554705))
            Line((10.413895, 7.010359), (9.758185, 7.554705))
            ThreePointArc((10.413895, 7.010359), (11.011737, 7.49159), (11.492175, 8.090069))
            Line((10.945295, 8.741815), (11.492175, 8.090069))
            ThreePointArc((10.945295, 8.741815), (11.25, 10), (10.945295, 11.258185))
            Line((11.492175, 11.909931), (10.945295, 11.258185))
            ThreePointArc((11.492175, 11.909931), (11.011737, 12.50841), (10.413895, 12.989641))
            Line((9.758185, 12.445295), (10.413895, 12.989641))
            ThreePointArc((9.758185, 12.445295), (8.5, 12.75), (7.241815, 12.445295))
            Line((6.586105, 12.989641), (7.241815, 12.445295))
        make_face()
    extrude(amount=-POCKET029_DEPTH, mode=Mode.SUBTRACT)


with BuildPart() as fusion029:
    # Fusion029 base: copy of Pad012
    add(pad012.part)

    # Fusion029: union Pocket029
    add(pocket029.part)


with BuildPart() as fusion029_1:
    # Fusion029 placement: moved
    add(fusion029.part.moved(Location((197, -177, -544.5))))


solid = fusion029_1.part
